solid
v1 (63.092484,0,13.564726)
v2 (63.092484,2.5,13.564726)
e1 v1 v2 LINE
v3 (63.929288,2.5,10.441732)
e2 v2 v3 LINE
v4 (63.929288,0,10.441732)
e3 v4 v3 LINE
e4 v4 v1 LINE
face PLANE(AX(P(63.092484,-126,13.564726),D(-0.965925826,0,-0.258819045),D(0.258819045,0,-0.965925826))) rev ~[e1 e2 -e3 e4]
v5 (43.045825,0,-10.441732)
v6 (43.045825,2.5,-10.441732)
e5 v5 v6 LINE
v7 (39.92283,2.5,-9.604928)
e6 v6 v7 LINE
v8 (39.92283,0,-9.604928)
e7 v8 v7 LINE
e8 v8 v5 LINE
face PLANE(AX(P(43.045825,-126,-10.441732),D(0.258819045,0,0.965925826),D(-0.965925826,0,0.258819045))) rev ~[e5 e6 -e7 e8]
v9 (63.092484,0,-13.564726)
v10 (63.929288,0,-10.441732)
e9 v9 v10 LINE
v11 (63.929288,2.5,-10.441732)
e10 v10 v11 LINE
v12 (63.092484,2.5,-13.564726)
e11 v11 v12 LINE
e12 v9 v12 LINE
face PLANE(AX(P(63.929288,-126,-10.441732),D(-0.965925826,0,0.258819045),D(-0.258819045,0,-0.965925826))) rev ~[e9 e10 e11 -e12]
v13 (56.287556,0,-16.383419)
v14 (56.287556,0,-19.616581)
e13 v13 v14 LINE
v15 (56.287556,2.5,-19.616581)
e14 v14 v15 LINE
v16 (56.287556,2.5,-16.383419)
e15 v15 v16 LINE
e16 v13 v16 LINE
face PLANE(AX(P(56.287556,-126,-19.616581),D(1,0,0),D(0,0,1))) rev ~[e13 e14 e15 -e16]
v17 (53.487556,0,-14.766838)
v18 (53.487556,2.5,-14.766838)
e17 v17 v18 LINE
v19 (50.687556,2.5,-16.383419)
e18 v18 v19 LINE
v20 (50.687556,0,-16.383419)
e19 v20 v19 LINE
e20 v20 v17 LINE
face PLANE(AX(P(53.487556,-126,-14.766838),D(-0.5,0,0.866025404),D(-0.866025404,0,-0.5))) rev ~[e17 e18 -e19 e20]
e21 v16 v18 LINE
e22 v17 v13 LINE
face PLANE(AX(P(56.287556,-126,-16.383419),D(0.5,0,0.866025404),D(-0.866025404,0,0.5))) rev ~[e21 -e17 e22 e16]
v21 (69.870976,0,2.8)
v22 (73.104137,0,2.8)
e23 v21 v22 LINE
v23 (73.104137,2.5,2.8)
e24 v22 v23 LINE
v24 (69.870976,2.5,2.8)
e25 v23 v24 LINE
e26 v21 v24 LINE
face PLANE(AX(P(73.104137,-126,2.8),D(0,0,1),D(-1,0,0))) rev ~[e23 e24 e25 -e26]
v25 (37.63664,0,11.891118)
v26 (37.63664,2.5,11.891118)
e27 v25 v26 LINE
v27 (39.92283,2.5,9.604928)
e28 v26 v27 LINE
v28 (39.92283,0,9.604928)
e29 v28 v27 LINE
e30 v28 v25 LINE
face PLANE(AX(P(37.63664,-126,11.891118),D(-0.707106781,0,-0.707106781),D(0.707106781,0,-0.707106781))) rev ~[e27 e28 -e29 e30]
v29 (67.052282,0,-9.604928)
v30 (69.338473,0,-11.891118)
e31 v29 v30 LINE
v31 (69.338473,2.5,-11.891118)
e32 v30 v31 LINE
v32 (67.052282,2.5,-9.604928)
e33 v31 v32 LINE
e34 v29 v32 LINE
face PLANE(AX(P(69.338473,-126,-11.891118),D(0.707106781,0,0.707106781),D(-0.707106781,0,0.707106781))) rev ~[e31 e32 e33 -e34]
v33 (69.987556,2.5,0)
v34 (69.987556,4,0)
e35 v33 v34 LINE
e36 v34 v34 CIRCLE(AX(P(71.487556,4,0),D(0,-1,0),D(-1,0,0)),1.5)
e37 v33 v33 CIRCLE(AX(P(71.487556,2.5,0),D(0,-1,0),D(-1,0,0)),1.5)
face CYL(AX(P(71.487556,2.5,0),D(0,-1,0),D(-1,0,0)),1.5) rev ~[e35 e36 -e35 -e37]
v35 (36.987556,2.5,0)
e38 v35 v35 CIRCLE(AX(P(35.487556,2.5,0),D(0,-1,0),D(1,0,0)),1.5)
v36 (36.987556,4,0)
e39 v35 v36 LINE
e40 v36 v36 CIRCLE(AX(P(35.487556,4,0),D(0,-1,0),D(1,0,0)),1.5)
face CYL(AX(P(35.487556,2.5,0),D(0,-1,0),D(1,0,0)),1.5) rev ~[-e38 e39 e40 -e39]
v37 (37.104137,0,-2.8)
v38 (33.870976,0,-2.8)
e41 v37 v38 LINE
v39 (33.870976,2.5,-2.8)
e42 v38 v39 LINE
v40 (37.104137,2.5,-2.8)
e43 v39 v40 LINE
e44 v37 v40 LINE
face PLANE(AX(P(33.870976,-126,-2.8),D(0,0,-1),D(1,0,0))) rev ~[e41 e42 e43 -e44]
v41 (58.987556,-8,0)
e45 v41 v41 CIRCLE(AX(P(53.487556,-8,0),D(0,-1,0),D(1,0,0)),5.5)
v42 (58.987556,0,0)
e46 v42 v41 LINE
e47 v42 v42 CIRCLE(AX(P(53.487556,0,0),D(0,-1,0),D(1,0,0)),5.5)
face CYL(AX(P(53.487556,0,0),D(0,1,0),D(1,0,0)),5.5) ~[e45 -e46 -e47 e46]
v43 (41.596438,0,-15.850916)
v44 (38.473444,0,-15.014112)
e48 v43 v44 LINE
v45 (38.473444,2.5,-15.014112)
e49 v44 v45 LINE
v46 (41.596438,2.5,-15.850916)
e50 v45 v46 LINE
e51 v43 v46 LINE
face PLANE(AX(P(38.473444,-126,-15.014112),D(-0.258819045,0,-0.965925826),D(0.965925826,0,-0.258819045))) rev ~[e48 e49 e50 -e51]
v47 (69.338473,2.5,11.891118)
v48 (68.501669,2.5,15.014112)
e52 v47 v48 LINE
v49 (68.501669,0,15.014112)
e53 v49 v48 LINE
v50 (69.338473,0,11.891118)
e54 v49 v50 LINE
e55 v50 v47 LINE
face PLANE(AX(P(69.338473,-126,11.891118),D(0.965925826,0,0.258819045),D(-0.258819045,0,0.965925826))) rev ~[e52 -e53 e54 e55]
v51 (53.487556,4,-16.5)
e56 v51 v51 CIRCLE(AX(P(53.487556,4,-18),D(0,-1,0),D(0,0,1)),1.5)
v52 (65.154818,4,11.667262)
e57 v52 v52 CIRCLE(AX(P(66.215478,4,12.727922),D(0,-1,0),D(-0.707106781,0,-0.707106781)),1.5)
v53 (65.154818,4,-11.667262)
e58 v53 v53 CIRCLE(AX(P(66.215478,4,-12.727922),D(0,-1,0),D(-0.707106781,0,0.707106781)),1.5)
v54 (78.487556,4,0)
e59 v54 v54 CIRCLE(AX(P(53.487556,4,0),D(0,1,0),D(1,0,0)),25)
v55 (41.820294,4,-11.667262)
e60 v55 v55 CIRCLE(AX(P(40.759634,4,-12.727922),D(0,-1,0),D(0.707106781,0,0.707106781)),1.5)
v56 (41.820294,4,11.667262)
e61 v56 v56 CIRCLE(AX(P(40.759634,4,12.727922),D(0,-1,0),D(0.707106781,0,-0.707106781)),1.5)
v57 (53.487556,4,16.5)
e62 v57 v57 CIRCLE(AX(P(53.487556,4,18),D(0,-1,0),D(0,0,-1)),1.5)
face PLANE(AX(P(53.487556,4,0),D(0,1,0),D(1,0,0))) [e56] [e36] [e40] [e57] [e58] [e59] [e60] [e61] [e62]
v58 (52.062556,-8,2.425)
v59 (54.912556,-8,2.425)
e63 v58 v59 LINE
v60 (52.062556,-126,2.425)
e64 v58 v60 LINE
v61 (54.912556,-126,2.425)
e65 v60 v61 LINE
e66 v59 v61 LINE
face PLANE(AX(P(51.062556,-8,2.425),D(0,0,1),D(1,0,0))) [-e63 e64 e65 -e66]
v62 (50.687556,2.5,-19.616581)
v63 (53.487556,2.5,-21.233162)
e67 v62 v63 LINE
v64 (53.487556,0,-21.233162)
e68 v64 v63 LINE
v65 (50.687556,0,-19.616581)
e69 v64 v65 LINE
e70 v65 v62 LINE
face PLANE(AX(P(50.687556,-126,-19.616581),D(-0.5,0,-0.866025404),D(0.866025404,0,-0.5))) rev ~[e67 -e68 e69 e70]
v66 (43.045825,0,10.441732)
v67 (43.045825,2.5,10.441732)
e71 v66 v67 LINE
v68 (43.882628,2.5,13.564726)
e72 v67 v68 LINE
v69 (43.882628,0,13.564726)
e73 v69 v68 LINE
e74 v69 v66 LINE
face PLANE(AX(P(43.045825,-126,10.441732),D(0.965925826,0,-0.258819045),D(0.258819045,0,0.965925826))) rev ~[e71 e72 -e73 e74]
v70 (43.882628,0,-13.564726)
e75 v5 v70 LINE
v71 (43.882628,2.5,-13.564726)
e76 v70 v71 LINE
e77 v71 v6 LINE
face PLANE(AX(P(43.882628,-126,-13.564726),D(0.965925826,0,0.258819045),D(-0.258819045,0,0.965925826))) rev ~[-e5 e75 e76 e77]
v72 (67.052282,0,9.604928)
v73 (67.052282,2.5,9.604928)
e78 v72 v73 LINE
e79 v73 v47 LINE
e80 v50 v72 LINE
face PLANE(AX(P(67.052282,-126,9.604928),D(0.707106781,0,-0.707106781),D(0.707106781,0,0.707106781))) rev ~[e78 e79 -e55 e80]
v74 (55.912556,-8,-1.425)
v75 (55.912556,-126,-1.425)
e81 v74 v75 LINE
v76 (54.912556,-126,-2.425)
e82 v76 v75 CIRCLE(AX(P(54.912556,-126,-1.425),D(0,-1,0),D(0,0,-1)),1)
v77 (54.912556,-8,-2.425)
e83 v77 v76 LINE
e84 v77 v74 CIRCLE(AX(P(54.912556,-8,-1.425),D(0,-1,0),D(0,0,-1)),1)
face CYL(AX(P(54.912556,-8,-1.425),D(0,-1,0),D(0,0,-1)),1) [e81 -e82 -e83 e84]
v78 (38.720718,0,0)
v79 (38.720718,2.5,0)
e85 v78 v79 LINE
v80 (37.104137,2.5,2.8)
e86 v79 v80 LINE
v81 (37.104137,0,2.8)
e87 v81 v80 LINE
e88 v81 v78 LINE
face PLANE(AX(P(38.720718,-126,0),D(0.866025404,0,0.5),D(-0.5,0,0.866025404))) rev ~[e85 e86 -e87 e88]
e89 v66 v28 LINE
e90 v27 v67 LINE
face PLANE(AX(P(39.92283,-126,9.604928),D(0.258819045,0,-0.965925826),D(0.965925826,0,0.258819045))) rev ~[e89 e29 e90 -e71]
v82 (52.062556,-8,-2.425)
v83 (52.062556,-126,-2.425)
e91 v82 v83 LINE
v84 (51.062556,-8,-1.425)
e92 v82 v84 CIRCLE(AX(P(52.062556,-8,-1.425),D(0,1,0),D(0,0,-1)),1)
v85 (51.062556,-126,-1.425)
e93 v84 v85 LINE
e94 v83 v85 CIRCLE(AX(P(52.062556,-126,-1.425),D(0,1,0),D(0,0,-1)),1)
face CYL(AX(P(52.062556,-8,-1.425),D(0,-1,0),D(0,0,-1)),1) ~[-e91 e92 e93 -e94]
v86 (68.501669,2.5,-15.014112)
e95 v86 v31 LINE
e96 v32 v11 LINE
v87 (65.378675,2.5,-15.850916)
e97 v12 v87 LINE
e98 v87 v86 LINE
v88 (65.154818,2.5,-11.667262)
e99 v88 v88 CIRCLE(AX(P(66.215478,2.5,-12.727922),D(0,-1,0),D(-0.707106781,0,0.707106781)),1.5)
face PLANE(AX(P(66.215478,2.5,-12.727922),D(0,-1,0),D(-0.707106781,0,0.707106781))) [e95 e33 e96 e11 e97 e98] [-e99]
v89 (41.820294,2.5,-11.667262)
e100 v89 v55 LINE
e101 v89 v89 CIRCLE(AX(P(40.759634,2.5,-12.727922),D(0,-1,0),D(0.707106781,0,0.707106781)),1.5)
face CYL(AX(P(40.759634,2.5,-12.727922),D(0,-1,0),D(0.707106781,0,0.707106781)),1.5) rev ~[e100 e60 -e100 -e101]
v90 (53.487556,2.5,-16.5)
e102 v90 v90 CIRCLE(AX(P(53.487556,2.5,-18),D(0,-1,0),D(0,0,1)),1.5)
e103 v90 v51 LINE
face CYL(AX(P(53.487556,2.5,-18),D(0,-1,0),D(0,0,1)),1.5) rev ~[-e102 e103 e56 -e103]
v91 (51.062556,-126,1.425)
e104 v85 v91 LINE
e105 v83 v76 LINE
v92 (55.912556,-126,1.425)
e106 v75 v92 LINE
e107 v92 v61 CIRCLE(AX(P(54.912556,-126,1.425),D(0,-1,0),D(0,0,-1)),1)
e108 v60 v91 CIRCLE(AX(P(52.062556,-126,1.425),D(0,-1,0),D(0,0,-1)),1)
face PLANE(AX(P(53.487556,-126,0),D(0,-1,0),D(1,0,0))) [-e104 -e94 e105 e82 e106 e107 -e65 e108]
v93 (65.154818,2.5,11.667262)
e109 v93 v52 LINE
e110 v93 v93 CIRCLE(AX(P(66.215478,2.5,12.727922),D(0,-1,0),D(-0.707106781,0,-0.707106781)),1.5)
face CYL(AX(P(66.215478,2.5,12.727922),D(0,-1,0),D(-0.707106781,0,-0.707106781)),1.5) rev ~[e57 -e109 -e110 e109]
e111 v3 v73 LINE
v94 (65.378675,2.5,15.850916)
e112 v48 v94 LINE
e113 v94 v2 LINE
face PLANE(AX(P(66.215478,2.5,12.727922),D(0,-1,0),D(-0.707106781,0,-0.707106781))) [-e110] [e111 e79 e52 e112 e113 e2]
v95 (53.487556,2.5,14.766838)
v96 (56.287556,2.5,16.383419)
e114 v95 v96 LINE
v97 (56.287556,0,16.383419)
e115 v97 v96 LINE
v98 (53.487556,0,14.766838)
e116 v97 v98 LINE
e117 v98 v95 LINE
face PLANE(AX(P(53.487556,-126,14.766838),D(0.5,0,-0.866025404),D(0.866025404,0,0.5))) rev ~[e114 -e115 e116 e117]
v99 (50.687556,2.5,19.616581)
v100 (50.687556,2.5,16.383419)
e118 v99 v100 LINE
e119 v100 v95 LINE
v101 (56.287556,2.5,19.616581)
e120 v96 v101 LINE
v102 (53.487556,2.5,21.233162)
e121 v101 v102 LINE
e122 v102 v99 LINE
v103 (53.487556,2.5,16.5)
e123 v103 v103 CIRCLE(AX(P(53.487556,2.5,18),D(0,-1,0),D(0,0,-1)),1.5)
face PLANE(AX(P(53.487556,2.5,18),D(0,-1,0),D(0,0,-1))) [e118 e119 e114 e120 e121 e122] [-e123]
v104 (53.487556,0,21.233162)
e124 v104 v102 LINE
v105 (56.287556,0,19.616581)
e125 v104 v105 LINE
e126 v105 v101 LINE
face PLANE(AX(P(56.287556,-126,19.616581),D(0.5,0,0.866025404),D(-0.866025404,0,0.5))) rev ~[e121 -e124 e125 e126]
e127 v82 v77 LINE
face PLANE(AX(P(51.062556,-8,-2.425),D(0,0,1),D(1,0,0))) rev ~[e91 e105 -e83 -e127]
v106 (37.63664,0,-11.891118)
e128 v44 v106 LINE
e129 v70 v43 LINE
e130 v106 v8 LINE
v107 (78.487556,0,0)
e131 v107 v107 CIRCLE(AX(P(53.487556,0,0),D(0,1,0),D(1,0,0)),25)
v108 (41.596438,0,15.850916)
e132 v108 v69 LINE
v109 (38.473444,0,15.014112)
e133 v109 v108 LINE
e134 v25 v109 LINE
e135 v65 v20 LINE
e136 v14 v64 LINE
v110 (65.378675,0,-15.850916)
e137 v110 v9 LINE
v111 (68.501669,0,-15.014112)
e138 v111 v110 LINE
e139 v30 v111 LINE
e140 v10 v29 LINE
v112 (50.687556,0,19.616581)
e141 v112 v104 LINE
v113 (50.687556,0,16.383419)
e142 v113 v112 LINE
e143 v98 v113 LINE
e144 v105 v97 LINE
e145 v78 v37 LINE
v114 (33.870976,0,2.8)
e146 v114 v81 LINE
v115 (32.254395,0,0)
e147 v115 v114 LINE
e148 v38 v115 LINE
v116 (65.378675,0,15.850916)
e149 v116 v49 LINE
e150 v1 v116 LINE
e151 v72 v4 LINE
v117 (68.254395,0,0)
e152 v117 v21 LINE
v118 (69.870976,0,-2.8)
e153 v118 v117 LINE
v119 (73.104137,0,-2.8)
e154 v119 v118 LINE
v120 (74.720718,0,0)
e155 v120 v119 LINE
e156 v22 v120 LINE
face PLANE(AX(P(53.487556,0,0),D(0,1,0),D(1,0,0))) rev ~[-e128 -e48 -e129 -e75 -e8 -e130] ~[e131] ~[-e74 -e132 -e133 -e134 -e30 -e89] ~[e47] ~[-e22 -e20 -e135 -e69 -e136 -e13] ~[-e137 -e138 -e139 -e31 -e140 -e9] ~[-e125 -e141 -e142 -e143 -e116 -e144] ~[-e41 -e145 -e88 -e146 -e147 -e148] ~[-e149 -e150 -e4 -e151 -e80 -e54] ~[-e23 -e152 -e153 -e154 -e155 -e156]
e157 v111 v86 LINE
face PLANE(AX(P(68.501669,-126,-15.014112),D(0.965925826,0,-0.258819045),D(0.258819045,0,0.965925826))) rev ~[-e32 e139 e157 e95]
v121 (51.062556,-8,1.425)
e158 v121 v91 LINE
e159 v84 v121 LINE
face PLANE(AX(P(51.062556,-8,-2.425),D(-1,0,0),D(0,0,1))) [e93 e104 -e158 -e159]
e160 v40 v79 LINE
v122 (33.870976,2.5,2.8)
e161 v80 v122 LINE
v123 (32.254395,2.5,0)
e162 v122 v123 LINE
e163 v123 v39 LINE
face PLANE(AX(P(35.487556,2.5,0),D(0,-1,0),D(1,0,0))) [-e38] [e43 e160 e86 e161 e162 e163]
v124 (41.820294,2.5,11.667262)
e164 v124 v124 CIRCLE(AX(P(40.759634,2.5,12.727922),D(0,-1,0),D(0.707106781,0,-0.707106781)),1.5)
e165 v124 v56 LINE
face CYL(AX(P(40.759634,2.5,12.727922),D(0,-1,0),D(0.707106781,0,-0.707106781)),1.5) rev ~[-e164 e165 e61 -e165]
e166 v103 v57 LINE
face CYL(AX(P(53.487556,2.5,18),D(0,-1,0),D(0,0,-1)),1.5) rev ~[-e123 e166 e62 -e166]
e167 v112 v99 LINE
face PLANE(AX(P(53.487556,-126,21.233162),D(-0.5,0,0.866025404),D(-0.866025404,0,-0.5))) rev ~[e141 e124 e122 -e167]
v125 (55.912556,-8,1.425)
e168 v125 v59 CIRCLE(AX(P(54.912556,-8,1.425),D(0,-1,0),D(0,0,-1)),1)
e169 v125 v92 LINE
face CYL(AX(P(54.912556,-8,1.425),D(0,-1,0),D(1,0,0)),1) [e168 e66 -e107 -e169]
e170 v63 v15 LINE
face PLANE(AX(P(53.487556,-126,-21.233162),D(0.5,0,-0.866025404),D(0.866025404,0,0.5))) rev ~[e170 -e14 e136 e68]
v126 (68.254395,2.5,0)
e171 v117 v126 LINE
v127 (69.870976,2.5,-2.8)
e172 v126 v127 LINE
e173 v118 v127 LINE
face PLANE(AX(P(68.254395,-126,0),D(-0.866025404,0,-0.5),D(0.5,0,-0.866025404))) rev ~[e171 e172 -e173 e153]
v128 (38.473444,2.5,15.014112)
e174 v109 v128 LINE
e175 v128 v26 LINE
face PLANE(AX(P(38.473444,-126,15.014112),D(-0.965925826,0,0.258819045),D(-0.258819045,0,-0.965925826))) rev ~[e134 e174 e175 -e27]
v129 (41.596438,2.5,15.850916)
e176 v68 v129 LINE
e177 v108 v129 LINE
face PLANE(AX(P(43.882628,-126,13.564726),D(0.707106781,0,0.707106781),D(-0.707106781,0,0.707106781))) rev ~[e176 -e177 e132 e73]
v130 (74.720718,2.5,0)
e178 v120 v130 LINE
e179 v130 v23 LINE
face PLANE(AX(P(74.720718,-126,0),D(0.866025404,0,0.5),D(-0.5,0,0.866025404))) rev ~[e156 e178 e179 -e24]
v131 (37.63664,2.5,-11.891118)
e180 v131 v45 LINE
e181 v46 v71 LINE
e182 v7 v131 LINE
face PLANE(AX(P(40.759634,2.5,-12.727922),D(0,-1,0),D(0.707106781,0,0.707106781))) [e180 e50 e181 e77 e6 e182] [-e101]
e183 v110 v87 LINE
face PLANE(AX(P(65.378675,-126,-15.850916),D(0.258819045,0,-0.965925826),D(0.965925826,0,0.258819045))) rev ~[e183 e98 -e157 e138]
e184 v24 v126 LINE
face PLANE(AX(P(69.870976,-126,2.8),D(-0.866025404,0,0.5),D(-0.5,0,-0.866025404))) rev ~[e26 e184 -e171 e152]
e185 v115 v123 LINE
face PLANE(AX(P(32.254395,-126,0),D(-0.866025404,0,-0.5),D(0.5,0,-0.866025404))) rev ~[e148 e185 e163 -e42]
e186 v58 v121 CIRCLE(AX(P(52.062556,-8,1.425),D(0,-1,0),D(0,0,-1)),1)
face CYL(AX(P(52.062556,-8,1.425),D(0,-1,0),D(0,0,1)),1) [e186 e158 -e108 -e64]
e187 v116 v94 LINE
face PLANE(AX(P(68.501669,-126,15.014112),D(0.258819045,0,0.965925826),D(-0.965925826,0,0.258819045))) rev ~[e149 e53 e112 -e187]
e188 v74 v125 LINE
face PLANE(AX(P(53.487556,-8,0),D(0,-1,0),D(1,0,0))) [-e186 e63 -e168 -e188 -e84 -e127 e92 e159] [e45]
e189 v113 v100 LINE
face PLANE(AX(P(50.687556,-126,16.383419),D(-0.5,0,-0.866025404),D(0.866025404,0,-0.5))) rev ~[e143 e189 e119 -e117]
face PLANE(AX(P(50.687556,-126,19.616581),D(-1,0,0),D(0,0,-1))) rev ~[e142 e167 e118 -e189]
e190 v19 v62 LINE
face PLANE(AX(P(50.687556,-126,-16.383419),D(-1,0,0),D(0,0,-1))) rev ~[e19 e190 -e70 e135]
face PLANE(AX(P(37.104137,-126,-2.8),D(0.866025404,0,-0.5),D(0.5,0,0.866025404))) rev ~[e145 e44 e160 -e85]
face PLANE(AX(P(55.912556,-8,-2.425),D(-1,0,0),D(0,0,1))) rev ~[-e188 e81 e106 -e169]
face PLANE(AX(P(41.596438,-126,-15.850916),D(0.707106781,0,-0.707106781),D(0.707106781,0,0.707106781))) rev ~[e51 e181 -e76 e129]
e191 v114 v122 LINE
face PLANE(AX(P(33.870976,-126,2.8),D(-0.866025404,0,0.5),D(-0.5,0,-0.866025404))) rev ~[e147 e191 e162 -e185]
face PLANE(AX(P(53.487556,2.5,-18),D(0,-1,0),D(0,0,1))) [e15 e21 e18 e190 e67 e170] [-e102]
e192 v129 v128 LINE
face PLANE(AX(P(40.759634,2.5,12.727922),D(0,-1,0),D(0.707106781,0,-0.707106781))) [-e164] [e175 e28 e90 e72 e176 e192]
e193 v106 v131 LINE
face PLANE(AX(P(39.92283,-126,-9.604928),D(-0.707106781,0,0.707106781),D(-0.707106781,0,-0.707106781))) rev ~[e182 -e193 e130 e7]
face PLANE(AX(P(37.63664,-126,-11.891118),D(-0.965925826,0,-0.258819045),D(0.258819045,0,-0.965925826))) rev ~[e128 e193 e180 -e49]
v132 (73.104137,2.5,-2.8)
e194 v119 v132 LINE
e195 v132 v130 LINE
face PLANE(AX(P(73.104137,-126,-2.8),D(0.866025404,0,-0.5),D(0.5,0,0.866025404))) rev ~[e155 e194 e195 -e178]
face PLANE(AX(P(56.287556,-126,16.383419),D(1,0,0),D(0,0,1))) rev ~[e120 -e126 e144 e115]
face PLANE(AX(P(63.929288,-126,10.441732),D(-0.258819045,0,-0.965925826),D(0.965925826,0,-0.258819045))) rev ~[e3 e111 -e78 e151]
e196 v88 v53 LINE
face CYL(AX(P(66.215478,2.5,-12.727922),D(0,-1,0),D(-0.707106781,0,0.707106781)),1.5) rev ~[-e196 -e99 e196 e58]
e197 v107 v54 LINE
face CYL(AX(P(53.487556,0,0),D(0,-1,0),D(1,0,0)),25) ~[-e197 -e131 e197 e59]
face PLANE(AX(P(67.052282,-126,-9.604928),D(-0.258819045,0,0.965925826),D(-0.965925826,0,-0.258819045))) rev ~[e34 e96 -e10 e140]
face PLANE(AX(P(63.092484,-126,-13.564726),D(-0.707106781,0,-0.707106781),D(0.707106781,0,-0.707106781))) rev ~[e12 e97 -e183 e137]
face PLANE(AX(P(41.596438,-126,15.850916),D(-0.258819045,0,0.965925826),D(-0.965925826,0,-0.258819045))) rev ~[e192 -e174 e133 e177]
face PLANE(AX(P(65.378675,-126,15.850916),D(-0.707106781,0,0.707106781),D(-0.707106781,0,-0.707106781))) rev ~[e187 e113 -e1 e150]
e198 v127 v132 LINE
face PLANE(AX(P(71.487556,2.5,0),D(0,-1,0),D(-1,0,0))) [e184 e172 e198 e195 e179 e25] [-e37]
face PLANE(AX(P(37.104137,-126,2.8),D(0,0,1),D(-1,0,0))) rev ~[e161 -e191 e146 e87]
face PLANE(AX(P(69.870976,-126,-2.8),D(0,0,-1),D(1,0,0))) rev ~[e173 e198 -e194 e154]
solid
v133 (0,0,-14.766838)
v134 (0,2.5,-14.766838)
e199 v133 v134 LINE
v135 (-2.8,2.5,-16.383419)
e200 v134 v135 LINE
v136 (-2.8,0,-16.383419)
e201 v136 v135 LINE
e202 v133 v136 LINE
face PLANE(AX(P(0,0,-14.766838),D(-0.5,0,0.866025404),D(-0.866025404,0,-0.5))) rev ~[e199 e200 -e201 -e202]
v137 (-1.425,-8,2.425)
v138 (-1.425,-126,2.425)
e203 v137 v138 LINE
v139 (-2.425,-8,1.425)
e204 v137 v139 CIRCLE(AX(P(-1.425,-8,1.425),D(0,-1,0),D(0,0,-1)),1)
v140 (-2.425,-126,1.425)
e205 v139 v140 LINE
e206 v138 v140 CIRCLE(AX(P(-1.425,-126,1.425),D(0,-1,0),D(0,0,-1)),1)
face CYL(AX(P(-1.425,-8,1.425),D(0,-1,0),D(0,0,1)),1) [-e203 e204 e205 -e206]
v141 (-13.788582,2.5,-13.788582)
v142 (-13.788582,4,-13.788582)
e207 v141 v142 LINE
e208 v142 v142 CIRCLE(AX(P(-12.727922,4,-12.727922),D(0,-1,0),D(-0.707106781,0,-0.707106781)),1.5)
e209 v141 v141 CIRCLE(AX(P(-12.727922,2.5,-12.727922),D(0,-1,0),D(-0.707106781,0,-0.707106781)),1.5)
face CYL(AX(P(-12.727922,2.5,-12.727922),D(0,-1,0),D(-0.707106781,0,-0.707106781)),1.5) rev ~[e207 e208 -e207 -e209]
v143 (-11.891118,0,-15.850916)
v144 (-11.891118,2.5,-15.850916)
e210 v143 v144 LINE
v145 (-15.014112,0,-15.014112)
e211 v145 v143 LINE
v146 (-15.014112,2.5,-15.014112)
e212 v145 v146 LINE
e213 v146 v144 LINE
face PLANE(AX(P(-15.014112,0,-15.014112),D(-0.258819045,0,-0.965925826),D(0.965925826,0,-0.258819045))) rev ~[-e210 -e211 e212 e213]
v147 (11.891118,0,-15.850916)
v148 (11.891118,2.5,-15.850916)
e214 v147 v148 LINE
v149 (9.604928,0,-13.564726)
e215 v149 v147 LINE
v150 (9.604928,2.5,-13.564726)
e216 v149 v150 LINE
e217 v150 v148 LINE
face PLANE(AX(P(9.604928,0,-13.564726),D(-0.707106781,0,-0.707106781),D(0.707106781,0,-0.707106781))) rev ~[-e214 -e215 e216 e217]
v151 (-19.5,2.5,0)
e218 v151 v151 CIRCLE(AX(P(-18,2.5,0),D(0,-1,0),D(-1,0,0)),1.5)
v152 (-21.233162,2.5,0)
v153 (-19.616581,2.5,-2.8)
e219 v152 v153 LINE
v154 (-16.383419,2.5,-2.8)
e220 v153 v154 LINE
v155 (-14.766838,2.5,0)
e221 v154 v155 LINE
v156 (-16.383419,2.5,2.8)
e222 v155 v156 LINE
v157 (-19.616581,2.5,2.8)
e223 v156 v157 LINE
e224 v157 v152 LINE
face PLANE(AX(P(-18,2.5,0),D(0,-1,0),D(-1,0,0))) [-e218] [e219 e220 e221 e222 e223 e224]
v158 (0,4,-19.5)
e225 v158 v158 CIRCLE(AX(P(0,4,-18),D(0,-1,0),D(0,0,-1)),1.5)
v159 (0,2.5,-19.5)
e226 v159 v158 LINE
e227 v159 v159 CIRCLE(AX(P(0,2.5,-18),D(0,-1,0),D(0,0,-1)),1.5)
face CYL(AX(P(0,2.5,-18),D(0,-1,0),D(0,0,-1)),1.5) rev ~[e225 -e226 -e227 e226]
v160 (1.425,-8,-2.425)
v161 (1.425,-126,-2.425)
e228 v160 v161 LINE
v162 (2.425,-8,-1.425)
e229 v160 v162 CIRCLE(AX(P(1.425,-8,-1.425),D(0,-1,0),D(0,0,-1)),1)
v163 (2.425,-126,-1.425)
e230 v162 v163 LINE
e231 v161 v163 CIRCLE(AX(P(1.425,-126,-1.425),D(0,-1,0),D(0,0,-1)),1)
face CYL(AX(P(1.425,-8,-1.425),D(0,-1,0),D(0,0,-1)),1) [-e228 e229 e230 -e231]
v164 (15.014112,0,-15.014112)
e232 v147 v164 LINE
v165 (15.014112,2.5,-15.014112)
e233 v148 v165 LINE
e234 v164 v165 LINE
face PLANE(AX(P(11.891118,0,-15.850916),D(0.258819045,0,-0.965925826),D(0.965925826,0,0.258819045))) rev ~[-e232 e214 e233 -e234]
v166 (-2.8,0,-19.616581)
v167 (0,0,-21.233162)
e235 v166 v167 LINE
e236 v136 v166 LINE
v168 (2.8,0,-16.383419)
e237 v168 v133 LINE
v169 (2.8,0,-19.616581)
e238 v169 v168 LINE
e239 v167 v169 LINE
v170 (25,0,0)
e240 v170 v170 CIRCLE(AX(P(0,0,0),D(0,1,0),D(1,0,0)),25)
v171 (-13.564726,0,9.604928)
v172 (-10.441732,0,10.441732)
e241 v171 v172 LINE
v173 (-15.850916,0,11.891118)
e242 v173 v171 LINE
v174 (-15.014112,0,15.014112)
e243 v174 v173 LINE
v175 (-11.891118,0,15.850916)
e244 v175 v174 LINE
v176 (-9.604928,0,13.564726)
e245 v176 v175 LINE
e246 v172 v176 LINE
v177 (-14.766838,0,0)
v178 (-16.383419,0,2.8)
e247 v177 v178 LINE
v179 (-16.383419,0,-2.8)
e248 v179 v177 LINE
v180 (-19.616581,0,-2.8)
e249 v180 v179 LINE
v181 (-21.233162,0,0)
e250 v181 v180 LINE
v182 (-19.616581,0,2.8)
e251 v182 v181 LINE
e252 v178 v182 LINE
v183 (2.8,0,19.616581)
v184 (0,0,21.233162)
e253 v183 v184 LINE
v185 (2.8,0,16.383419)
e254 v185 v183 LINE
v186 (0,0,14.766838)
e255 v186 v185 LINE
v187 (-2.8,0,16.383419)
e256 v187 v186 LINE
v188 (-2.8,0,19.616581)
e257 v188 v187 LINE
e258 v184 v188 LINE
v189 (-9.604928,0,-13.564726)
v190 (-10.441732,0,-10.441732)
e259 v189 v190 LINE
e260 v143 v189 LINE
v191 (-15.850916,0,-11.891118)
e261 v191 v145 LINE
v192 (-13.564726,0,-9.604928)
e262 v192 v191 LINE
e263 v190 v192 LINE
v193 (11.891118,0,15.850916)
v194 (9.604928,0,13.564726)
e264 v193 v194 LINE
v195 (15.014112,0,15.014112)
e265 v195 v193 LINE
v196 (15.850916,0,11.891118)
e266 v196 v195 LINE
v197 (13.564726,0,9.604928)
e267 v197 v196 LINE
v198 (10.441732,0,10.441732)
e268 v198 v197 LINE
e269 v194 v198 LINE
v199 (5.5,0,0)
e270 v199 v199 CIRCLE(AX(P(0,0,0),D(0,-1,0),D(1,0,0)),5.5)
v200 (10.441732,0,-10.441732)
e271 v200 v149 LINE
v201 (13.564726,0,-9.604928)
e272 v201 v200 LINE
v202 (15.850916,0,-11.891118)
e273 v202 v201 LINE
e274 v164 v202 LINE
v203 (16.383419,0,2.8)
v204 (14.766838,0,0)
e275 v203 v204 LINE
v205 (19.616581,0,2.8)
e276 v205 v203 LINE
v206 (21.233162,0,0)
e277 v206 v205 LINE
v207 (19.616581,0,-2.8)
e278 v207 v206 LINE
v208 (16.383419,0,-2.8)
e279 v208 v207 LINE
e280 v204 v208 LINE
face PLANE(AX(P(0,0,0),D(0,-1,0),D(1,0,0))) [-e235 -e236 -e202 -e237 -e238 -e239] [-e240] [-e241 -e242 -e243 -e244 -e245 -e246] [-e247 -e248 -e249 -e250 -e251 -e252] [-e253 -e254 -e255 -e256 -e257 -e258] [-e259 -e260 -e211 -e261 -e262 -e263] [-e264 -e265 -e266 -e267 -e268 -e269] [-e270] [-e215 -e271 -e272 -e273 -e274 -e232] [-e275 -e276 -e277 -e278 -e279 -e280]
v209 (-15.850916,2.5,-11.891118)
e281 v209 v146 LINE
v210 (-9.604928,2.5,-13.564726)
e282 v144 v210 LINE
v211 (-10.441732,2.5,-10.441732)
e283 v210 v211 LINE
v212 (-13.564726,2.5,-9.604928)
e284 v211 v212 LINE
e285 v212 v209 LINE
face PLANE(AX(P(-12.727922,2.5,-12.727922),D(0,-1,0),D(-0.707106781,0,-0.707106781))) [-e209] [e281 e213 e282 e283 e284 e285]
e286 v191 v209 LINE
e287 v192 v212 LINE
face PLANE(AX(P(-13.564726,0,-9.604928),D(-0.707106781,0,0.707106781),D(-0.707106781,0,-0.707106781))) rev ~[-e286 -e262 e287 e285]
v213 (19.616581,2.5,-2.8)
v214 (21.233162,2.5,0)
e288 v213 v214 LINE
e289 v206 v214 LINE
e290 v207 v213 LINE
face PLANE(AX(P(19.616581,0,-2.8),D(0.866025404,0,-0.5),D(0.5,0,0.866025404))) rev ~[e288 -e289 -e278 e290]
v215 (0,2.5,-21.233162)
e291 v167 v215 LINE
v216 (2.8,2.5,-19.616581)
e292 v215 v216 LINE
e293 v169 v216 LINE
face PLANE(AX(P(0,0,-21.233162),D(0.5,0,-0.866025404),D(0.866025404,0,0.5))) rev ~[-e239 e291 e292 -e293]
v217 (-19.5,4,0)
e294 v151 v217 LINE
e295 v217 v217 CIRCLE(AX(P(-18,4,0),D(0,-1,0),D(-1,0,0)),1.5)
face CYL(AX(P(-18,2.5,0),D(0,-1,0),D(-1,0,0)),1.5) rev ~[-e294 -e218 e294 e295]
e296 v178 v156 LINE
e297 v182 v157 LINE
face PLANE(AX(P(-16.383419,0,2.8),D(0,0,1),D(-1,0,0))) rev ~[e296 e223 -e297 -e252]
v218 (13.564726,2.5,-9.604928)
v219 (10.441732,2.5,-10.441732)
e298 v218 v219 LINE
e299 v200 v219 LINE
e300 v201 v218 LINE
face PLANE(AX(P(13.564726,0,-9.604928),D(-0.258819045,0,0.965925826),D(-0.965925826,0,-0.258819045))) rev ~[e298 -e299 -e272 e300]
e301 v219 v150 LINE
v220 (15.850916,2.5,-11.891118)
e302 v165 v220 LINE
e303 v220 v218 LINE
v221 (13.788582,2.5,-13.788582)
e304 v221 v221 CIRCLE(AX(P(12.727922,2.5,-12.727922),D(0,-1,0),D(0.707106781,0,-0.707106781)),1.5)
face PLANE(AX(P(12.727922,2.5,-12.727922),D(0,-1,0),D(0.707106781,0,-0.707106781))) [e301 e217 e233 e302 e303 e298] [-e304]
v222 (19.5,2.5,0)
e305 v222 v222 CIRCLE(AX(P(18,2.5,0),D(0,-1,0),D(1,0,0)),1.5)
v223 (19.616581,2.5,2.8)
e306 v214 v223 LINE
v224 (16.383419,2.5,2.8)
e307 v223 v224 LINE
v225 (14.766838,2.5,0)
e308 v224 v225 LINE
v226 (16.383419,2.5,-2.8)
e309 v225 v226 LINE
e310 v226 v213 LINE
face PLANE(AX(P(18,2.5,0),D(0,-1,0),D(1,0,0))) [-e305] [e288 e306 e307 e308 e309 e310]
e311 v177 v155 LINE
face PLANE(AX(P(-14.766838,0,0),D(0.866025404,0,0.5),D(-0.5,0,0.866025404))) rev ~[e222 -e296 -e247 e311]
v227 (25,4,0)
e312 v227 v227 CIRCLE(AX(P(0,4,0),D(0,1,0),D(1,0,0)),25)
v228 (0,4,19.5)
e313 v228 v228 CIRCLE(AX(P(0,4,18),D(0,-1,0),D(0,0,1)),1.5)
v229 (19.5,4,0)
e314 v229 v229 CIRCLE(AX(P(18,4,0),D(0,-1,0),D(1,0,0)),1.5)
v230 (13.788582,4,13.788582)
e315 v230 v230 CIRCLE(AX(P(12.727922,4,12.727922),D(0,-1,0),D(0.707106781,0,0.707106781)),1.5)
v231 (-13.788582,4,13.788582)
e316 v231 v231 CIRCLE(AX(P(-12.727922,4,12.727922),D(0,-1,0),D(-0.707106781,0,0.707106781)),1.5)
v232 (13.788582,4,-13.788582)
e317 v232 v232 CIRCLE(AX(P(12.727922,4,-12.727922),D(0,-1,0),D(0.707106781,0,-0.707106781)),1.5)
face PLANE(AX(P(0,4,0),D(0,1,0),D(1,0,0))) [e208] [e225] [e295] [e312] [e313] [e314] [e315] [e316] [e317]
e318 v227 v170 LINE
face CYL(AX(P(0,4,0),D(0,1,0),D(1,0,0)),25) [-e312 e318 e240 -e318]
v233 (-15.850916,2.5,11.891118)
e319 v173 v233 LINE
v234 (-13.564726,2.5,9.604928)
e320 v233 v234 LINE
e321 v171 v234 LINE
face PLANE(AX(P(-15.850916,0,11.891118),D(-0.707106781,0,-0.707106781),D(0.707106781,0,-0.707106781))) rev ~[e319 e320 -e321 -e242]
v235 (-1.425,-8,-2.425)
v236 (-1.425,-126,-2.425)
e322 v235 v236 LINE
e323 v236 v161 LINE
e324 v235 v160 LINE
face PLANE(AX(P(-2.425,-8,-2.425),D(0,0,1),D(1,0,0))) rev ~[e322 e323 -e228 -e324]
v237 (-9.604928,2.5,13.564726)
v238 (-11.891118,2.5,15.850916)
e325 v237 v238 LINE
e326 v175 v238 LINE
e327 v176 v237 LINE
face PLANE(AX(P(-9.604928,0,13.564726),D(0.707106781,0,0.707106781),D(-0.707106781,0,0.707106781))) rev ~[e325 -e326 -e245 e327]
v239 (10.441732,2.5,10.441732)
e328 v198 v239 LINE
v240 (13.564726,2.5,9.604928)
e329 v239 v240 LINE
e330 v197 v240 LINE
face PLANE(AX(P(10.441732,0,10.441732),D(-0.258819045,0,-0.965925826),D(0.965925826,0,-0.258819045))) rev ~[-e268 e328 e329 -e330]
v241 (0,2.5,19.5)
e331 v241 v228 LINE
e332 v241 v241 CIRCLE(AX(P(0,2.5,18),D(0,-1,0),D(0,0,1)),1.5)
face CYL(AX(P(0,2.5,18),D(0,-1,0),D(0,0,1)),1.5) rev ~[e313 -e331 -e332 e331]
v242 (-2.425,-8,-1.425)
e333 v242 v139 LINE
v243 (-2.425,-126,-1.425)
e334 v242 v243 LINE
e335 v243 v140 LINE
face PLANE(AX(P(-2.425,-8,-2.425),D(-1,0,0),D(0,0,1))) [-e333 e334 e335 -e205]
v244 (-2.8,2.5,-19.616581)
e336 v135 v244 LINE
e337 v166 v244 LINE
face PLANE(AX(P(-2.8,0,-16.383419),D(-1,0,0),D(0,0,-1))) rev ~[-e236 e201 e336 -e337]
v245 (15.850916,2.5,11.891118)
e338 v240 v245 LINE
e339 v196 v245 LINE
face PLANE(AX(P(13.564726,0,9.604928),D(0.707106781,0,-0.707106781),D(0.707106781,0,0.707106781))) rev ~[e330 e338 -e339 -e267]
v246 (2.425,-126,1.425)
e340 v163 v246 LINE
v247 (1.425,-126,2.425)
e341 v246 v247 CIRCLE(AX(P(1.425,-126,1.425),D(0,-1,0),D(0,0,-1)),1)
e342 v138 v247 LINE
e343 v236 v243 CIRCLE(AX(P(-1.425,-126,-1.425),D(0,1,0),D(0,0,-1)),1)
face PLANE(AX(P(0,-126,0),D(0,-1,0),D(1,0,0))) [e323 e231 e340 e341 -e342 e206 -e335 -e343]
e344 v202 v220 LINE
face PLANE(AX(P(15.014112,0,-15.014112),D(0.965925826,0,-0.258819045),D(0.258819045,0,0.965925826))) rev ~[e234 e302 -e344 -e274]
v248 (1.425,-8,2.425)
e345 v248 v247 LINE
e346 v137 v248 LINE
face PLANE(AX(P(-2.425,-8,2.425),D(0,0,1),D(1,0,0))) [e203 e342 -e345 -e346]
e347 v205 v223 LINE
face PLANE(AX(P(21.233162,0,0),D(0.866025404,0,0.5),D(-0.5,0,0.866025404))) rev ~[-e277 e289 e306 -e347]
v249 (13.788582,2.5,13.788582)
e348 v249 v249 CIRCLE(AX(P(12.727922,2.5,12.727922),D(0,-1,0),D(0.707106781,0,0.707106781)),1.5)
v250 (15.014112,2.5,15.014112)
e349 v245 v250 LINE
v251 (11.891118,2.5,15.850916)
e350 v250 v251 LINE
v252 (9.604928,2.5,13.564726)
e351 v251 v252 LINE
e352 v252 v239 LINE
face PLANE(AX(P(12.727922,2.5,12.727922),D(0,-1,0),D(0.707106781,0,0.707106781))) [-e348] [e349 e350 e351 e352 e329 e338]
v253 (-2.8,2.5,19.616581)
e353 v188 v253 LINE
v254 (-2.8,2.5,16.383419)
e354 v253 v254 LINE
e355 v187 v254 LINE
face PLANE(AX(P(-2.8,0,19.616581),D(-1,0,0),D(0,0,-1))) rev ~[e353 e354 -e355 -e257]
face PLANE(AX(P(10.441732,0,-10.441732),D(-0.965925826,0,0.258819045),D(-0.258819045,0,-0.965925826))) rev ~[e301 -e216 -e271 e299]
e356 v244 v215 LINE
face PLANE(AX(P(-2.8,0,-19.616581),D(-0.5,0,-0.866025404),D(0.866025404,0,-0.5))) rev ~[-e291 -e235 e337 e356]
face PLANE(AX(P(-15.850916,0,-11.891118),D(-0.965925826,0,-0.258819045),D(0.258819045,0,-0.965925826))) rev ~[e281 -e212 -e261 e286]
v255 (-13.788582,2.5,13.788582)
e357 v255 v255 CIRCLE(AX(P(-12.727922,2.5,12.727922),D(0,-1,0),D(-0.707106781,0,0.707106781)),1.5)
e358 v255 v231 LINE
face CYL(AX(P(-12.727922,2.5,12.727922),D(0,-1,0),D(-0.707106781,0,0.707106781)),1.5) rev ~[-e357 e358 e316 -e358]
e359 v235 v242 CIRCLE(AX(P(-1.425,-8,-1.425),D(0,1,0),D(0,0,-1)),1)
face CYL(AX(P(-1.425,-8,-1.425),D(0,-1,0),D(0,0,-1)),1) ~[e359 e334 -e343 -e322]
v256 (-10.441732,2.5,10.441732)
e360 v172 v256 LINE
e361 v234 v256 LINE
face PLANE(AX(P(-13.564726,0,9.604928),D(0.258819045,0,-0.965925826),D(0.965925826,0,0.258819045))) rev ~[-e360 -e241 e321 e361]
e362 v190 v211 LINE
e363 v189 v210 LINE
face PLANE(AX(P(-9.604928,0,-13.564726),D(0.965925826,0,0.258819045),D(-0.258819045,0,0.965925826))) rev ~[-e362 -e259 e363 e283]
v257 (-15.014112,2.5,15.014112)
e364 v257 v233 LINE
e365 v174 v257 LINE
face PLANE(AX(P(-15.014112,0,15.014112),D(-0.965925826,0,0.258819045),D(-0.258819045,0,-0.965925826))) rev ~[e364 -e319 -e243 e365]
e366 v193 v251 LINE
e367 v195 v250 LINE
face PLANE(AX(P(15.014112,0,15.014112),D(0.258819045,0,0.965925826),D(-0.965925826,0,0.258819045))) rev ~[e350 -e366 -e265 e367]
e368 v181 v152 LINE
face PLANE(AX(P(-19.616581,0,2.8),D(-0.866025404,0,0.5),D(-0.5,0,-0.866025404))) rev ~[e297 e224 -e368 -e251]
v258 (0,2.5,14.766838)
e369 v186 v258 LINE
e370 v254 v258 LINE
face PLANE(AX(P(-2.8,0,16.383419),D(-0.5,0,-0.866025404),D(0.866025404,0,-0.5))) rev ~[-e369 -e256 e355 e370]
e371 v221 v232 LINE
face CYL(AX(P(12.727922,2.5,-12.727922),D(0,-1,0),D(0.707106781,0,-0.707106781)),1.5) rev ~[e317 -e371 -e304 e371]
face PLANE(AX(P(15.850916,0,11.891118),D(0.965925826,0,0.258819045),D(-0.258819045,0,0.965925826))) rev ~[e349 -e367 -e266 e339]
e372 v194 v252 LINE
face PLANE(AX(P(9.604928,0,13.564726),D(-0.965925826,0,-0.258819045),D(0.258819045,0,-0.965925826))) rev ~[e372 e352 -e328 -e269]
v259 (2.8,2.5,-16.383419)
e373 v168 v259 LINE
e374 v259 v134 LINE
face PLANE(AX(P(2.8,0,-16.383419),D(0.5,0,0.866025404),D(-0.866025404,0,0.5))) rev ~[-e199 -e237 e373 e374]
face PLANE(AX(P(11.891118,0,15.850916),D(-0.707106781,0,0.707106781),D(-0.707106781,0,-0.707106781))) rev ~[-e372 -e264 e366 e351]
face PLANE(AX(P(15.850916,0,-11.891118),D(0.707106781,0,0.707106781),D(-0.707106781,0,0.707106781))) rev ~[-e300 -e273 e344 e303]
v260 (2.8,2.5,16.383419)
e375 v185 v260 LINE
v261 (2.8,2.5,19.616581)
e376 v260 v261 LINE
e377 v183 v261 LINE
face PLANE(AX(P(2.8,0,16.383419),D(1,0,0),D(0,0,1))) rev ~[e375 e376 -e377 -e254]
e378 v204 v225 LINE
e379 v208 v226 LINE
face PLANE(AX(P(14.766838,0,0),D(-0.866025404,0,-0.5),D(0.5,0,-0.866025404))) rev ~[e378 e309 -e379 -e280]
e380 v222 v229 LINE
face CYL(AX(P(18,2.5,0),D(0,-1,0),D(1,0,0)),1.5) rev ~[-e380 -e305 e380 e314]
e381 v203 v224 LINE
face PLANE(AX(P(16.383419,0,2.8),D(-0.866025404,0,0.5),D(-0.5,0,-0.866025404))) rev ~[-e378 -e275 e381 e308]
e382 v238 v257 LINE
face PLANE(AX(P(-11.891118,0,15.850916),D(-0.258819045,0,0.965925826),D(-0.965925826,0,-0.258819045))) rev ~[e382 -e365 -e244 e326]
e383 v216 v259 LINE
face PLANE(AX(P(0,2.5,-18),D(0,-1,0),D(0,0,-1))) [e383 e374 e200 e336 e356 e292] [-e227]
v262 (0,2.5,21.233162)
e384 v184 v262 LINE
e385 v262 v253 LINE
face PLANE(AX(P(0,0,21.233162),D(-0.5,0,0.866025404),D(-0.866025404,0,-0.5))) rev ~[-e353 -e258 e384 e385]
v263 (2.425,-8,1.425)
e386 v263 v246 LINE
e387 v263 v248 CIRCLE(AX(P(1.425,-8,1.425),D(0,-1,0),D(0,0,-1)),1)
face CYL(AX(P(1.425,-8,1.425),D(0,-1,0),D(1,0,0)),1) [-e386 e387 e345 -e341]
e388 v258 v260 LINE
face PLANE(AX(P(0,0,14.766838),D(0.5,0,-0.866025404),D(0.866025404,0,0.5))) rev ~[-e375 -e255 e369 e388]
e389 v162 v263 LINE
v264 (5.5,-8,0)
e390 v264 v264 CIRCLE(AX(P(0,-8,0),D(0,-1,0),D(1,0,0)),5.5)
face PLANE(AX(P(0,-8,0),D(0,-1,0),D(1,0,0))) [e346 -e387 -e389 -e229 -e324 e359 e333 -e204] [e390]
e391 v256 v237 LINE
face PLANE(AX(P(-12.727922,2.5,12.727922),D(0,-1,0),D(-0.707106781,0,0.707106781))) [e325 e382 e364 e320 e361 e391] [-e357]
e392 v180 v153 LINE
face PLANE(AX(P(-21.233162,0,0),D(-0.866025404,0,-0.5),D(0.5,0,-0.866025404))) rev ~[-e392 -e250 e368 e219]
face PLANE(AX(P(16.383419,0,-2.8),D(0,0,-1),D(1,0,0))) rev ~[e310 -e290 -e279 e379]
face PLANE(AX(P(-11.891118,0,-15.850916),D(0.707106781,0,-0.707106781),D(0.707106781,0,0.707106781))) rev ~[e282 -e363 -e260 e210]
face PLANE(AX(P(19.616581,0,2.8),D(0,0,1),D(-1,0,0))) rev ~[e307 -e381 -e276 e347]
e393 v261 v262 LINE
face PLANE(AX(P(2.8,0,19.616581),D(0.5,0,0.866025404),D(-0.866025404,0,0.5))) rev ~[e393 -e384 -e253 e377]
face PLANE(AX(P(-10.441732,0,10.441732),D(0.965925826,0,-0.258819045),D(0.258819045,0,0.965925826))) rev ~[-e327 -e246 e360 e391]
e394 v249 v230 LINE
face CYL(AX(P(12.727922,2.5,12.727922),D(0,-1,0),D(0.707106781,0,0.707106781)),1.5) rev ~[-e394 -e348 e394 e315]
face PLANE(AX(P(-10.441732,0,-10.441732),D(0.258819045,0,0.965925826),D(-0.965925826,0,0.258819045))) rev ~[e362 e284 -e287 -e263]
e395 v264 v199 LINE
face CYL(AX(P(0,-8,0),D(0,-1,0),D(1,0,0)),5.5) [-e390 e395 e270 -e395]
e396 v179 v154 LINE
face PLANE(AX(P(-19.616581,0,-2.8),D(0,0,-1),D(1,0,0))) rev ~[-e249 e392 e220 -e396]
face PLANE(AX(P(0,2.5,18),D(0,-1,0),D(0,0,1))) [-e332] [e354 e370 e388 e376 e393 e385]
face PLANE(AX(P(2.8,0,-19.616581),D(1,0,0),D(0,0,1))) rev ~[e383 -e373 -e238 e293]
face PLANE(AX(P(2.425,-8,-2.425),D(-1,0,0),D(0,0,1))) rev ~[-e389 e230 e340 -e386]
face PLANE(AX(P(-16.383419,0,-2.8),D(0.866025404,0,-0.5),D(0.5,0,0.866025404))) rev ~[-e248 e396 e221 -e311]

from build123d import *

# Parameters (mm, degrees)
SKETCH_1_R               = 20
EXTRUDE_1_DEPTH          = 4
SKETCH_2_R               = 7.407075634
EXTRUDE_2_DEPTH          = 8
SKETCH_3_W               = 4.85
SKETCH_3_H               = 4.85
EXTRUDE_3_DEPTH          = 118
SKETCH_5_R               = 25
EXTRUDE_4_DEPTH          = 4
CUT_EXTRUDE_1_DEPTH      = 2.5
SKETCH_7_R               = 1.5
CUT_EXTRUDE_2_DEPTH      = 2.5
PATTERN_CIRCULAR_1_COUNT = 8
FILLET_1_R               = 1
SKETCH_9_R               = 25
EXTRUDE_5_DEPTH          = 4
SKETCH_10_R              = 5.5
EXTRUDE_6_DEPTH          = 8
SKETCH_11_W              = 4.85
SKETCH_11_H              = 4.85
EXTRUDE_7_DEPTH          = 118
CUT_EXTRUDE_7_DEPTH      = 128.5
SKETCH_13_R              = 1.5
CUT_EXTRUDE_8_DEPTH      = 128.5
PATTERN_CIRCULAR_2_COUNT = 8
FILLET_2_R               = 1
SKETCH_14_R              = 7.407075634
SKETCH_14_R_2            = 5.5
CUT_EXTRUDE_9_DEPTH      = 8


with BuildPart() as part:
    # 草图1 → 凸台-拉伸1 (new body)
    with BuildSketch(Plane(origin=(0, 0, 0), x_dir=(1, 0, 0), z_dir=(0, 1, 0))):
        Circle(SKETCH_1_R)
    extrude(amount=EXTRUDE_1_DEPTH)

    # 草图2 → 凸台-拉伸2 (add)
    with BuildSketch(Plane.XZ):
        Circle(SKETCH_2_R)
    extrude(amount=EXTRUDE_2_DEPTH)

    # 草图3 → 凸台-拉伸3 (add)
    with BuildSketch(Plane.XZ.offset(8)):
        Rectangle(SKETCH_3_W, SKETCH_3_H)
    extrude(amount=EXTRUDE_3_DEPTH)

    # 草图5 → 凸台-拉伸4 (add)
    with BuildSketch(Plane(origin=(0, 4, 0), x_dir=(1, 0, 0), z_dir=(0, 1, 0))):
        Circle(SKETCH_5_R)
    extrude(amount=-EXTRUDE_4_DEPTH)

    # 草图6 → 切除-拉伸1 (cut)
    with BuildSketch(Plane.XZ):
        Polygon((21.233161507, 0), (19.616580754, 2.8), (16.383419246, 2.8), (14.766838493, 0), (16.383419246, -2.8), (19.616580754, -2.8), align=None)
    cut_extrude_1 = extrude(amount=-CUT_EXTRUDE_1_DEPTH, mode=Mode.SUBTRACT)

    # 草图7 → 切除-拉伸2 (cut)
    with BuildSketch(Plane.XZ.offset(-2.5)):
        with Locations((18, 0)):
            Circle(SKETCH_7_R)
    cut_extrude_2 = extrude(amount=-CUT_EXTRUDE_2_DEPTH, mode=Mode.SUBTRACT)

    # 阵列(圆周)1: 切除-拉伸1, 切除-拉伸2 ×8 about axis
    pattern_circular_1_axis = Axis((0, 0, 0), (0, 1, 0))
    for i in range(1, PATTERN_CIRCULAR_1_COUNT):
        add(cut_extrude_1.rotate(pattern_circular_1_axis, i * 360 / PATTERN_CIRCULAR_1_COUNT), mode=Mode.SUBTRACT)
        add(cut_extrude_2.rotate(pattern_circular_1_axis, i * 360 / PATTERN_CIRCULAR_1_COUNT), mode=Mode.SUBTRACT)

    # 圆角1
    fillet_1_edges = [part.edges().sort_by_distance(p)[0] for p in [
        (2.425, -67, -2.425),
        (2.425, -67, 2.425),
        (-2.425, -67, 2.425),
        (-2.425, -67, -2.425),
    ]]
    fillet(fillet_1_edges, radius=FILLET_1_R)

    # 草图14 → 切除-拉伸9 (cut)
    with BuildSketch(Plane.XZ.offset(8)):
        Circle(SKETCH_14_R)
        Circle(SKETCH_14_R_2, mode=Mode.SUBTRACT)
    extrude(amount=-CUT_EXTRUDE_9_DEPTH, mode=Mode.SUBTRACT)


with BuildPart() as body_2:
    # 草图9 → 凸台-拉伸5 (new body)
    with BuildSketch(Plane(origin=(0, 0, 0), x_dir=(1, 0, 0), z_dir=(0, 1, 0))):
        with Locations((53.487556259, 0)):
            Circle(SKETCH_9_R)
    extrude(amount=EXTRUDE_5_DEPTH)

    # 草图10 → 凸台-拉伸6 (add)
    with BuildSketch(Plane.XZ):
        with Locations((53.487556259, 0)):
            Circle(SKETCH_10_R)
    extrude(amount=EXTRUDE_6_DEPTH)

    # 草图11 → 凸台-拉伸7 (add)
    with BuildSketch(Plane.XZ.offset(8)):
        with Locations((53.487556259, 0)):
            Rectangle(SKETCH_11_W, SKETCH_11_H)
    extrude(amount=EXTRUDE_7_DEPTH)

    # 草图12 → 切除-拉伸7 (cut)
    with BuildSketch(Plane.XZ.offset(126)):
        Polygon((38.720717767, 0), (37.104137013, 2.8), (33.870975506, 2.8), (32.254394752, 0), (33.870975506, -2.8), (37.104137013, -2.8), align=None)
    cut_extrude_7 = extrude(amount=-CUT_EXTRUDE_7_DEPTH, mode=Mode.SUBTRACT)

    # 草图13 → 切除-拉伸8 (cut)
    with BuildSketch(Plane.XZ.offset(-2.5)):
        with Locations((35.487556259, 0)):
            Circle(SKETCH_13_R)
    cut_extrude_8 = extrude(amount=-CUT_EXTRUDE_8_DEPTH, mode=Mode.SUBTRACT)

    # 阵列(圆周)2: 切除-拉伸7, 切除-拉伸8 ×8 about axis
    pattern_circular_2_axis = Axis((53.487556259, 0, 0), (0, 1, 0))
    for i in range(1, PATTERN_CIRCULAR_2_COUNT):
        add(cut_extrude_7.rotate(pattern_circular_2_axis, i * 360 / PATTERN_CIRCULAR_2_COUNT), mode=Mode.SUBTRACT)
        add(cut_extrude_8.rotate(pattern_circular_2_axis, i * 360 / PATTERN_CIRCULAR_2_COUNT), mode=Mode.SUBTRACT)

    # 圆角2
    fillet_2_edges = [body_2.edges().sort_by_distance(p)[0] for p in [
        (55.912556259, -67, -2.425),
        (55.912556259, -67, 2.425),
        (51.062556259, -67, 2.425),
        (51.062556259, -67, -2.425),
    ]]
    fillet(fillet_2_edges, radius=FILLET_2_R)


solid = Compound([part.part, body_2.part])
